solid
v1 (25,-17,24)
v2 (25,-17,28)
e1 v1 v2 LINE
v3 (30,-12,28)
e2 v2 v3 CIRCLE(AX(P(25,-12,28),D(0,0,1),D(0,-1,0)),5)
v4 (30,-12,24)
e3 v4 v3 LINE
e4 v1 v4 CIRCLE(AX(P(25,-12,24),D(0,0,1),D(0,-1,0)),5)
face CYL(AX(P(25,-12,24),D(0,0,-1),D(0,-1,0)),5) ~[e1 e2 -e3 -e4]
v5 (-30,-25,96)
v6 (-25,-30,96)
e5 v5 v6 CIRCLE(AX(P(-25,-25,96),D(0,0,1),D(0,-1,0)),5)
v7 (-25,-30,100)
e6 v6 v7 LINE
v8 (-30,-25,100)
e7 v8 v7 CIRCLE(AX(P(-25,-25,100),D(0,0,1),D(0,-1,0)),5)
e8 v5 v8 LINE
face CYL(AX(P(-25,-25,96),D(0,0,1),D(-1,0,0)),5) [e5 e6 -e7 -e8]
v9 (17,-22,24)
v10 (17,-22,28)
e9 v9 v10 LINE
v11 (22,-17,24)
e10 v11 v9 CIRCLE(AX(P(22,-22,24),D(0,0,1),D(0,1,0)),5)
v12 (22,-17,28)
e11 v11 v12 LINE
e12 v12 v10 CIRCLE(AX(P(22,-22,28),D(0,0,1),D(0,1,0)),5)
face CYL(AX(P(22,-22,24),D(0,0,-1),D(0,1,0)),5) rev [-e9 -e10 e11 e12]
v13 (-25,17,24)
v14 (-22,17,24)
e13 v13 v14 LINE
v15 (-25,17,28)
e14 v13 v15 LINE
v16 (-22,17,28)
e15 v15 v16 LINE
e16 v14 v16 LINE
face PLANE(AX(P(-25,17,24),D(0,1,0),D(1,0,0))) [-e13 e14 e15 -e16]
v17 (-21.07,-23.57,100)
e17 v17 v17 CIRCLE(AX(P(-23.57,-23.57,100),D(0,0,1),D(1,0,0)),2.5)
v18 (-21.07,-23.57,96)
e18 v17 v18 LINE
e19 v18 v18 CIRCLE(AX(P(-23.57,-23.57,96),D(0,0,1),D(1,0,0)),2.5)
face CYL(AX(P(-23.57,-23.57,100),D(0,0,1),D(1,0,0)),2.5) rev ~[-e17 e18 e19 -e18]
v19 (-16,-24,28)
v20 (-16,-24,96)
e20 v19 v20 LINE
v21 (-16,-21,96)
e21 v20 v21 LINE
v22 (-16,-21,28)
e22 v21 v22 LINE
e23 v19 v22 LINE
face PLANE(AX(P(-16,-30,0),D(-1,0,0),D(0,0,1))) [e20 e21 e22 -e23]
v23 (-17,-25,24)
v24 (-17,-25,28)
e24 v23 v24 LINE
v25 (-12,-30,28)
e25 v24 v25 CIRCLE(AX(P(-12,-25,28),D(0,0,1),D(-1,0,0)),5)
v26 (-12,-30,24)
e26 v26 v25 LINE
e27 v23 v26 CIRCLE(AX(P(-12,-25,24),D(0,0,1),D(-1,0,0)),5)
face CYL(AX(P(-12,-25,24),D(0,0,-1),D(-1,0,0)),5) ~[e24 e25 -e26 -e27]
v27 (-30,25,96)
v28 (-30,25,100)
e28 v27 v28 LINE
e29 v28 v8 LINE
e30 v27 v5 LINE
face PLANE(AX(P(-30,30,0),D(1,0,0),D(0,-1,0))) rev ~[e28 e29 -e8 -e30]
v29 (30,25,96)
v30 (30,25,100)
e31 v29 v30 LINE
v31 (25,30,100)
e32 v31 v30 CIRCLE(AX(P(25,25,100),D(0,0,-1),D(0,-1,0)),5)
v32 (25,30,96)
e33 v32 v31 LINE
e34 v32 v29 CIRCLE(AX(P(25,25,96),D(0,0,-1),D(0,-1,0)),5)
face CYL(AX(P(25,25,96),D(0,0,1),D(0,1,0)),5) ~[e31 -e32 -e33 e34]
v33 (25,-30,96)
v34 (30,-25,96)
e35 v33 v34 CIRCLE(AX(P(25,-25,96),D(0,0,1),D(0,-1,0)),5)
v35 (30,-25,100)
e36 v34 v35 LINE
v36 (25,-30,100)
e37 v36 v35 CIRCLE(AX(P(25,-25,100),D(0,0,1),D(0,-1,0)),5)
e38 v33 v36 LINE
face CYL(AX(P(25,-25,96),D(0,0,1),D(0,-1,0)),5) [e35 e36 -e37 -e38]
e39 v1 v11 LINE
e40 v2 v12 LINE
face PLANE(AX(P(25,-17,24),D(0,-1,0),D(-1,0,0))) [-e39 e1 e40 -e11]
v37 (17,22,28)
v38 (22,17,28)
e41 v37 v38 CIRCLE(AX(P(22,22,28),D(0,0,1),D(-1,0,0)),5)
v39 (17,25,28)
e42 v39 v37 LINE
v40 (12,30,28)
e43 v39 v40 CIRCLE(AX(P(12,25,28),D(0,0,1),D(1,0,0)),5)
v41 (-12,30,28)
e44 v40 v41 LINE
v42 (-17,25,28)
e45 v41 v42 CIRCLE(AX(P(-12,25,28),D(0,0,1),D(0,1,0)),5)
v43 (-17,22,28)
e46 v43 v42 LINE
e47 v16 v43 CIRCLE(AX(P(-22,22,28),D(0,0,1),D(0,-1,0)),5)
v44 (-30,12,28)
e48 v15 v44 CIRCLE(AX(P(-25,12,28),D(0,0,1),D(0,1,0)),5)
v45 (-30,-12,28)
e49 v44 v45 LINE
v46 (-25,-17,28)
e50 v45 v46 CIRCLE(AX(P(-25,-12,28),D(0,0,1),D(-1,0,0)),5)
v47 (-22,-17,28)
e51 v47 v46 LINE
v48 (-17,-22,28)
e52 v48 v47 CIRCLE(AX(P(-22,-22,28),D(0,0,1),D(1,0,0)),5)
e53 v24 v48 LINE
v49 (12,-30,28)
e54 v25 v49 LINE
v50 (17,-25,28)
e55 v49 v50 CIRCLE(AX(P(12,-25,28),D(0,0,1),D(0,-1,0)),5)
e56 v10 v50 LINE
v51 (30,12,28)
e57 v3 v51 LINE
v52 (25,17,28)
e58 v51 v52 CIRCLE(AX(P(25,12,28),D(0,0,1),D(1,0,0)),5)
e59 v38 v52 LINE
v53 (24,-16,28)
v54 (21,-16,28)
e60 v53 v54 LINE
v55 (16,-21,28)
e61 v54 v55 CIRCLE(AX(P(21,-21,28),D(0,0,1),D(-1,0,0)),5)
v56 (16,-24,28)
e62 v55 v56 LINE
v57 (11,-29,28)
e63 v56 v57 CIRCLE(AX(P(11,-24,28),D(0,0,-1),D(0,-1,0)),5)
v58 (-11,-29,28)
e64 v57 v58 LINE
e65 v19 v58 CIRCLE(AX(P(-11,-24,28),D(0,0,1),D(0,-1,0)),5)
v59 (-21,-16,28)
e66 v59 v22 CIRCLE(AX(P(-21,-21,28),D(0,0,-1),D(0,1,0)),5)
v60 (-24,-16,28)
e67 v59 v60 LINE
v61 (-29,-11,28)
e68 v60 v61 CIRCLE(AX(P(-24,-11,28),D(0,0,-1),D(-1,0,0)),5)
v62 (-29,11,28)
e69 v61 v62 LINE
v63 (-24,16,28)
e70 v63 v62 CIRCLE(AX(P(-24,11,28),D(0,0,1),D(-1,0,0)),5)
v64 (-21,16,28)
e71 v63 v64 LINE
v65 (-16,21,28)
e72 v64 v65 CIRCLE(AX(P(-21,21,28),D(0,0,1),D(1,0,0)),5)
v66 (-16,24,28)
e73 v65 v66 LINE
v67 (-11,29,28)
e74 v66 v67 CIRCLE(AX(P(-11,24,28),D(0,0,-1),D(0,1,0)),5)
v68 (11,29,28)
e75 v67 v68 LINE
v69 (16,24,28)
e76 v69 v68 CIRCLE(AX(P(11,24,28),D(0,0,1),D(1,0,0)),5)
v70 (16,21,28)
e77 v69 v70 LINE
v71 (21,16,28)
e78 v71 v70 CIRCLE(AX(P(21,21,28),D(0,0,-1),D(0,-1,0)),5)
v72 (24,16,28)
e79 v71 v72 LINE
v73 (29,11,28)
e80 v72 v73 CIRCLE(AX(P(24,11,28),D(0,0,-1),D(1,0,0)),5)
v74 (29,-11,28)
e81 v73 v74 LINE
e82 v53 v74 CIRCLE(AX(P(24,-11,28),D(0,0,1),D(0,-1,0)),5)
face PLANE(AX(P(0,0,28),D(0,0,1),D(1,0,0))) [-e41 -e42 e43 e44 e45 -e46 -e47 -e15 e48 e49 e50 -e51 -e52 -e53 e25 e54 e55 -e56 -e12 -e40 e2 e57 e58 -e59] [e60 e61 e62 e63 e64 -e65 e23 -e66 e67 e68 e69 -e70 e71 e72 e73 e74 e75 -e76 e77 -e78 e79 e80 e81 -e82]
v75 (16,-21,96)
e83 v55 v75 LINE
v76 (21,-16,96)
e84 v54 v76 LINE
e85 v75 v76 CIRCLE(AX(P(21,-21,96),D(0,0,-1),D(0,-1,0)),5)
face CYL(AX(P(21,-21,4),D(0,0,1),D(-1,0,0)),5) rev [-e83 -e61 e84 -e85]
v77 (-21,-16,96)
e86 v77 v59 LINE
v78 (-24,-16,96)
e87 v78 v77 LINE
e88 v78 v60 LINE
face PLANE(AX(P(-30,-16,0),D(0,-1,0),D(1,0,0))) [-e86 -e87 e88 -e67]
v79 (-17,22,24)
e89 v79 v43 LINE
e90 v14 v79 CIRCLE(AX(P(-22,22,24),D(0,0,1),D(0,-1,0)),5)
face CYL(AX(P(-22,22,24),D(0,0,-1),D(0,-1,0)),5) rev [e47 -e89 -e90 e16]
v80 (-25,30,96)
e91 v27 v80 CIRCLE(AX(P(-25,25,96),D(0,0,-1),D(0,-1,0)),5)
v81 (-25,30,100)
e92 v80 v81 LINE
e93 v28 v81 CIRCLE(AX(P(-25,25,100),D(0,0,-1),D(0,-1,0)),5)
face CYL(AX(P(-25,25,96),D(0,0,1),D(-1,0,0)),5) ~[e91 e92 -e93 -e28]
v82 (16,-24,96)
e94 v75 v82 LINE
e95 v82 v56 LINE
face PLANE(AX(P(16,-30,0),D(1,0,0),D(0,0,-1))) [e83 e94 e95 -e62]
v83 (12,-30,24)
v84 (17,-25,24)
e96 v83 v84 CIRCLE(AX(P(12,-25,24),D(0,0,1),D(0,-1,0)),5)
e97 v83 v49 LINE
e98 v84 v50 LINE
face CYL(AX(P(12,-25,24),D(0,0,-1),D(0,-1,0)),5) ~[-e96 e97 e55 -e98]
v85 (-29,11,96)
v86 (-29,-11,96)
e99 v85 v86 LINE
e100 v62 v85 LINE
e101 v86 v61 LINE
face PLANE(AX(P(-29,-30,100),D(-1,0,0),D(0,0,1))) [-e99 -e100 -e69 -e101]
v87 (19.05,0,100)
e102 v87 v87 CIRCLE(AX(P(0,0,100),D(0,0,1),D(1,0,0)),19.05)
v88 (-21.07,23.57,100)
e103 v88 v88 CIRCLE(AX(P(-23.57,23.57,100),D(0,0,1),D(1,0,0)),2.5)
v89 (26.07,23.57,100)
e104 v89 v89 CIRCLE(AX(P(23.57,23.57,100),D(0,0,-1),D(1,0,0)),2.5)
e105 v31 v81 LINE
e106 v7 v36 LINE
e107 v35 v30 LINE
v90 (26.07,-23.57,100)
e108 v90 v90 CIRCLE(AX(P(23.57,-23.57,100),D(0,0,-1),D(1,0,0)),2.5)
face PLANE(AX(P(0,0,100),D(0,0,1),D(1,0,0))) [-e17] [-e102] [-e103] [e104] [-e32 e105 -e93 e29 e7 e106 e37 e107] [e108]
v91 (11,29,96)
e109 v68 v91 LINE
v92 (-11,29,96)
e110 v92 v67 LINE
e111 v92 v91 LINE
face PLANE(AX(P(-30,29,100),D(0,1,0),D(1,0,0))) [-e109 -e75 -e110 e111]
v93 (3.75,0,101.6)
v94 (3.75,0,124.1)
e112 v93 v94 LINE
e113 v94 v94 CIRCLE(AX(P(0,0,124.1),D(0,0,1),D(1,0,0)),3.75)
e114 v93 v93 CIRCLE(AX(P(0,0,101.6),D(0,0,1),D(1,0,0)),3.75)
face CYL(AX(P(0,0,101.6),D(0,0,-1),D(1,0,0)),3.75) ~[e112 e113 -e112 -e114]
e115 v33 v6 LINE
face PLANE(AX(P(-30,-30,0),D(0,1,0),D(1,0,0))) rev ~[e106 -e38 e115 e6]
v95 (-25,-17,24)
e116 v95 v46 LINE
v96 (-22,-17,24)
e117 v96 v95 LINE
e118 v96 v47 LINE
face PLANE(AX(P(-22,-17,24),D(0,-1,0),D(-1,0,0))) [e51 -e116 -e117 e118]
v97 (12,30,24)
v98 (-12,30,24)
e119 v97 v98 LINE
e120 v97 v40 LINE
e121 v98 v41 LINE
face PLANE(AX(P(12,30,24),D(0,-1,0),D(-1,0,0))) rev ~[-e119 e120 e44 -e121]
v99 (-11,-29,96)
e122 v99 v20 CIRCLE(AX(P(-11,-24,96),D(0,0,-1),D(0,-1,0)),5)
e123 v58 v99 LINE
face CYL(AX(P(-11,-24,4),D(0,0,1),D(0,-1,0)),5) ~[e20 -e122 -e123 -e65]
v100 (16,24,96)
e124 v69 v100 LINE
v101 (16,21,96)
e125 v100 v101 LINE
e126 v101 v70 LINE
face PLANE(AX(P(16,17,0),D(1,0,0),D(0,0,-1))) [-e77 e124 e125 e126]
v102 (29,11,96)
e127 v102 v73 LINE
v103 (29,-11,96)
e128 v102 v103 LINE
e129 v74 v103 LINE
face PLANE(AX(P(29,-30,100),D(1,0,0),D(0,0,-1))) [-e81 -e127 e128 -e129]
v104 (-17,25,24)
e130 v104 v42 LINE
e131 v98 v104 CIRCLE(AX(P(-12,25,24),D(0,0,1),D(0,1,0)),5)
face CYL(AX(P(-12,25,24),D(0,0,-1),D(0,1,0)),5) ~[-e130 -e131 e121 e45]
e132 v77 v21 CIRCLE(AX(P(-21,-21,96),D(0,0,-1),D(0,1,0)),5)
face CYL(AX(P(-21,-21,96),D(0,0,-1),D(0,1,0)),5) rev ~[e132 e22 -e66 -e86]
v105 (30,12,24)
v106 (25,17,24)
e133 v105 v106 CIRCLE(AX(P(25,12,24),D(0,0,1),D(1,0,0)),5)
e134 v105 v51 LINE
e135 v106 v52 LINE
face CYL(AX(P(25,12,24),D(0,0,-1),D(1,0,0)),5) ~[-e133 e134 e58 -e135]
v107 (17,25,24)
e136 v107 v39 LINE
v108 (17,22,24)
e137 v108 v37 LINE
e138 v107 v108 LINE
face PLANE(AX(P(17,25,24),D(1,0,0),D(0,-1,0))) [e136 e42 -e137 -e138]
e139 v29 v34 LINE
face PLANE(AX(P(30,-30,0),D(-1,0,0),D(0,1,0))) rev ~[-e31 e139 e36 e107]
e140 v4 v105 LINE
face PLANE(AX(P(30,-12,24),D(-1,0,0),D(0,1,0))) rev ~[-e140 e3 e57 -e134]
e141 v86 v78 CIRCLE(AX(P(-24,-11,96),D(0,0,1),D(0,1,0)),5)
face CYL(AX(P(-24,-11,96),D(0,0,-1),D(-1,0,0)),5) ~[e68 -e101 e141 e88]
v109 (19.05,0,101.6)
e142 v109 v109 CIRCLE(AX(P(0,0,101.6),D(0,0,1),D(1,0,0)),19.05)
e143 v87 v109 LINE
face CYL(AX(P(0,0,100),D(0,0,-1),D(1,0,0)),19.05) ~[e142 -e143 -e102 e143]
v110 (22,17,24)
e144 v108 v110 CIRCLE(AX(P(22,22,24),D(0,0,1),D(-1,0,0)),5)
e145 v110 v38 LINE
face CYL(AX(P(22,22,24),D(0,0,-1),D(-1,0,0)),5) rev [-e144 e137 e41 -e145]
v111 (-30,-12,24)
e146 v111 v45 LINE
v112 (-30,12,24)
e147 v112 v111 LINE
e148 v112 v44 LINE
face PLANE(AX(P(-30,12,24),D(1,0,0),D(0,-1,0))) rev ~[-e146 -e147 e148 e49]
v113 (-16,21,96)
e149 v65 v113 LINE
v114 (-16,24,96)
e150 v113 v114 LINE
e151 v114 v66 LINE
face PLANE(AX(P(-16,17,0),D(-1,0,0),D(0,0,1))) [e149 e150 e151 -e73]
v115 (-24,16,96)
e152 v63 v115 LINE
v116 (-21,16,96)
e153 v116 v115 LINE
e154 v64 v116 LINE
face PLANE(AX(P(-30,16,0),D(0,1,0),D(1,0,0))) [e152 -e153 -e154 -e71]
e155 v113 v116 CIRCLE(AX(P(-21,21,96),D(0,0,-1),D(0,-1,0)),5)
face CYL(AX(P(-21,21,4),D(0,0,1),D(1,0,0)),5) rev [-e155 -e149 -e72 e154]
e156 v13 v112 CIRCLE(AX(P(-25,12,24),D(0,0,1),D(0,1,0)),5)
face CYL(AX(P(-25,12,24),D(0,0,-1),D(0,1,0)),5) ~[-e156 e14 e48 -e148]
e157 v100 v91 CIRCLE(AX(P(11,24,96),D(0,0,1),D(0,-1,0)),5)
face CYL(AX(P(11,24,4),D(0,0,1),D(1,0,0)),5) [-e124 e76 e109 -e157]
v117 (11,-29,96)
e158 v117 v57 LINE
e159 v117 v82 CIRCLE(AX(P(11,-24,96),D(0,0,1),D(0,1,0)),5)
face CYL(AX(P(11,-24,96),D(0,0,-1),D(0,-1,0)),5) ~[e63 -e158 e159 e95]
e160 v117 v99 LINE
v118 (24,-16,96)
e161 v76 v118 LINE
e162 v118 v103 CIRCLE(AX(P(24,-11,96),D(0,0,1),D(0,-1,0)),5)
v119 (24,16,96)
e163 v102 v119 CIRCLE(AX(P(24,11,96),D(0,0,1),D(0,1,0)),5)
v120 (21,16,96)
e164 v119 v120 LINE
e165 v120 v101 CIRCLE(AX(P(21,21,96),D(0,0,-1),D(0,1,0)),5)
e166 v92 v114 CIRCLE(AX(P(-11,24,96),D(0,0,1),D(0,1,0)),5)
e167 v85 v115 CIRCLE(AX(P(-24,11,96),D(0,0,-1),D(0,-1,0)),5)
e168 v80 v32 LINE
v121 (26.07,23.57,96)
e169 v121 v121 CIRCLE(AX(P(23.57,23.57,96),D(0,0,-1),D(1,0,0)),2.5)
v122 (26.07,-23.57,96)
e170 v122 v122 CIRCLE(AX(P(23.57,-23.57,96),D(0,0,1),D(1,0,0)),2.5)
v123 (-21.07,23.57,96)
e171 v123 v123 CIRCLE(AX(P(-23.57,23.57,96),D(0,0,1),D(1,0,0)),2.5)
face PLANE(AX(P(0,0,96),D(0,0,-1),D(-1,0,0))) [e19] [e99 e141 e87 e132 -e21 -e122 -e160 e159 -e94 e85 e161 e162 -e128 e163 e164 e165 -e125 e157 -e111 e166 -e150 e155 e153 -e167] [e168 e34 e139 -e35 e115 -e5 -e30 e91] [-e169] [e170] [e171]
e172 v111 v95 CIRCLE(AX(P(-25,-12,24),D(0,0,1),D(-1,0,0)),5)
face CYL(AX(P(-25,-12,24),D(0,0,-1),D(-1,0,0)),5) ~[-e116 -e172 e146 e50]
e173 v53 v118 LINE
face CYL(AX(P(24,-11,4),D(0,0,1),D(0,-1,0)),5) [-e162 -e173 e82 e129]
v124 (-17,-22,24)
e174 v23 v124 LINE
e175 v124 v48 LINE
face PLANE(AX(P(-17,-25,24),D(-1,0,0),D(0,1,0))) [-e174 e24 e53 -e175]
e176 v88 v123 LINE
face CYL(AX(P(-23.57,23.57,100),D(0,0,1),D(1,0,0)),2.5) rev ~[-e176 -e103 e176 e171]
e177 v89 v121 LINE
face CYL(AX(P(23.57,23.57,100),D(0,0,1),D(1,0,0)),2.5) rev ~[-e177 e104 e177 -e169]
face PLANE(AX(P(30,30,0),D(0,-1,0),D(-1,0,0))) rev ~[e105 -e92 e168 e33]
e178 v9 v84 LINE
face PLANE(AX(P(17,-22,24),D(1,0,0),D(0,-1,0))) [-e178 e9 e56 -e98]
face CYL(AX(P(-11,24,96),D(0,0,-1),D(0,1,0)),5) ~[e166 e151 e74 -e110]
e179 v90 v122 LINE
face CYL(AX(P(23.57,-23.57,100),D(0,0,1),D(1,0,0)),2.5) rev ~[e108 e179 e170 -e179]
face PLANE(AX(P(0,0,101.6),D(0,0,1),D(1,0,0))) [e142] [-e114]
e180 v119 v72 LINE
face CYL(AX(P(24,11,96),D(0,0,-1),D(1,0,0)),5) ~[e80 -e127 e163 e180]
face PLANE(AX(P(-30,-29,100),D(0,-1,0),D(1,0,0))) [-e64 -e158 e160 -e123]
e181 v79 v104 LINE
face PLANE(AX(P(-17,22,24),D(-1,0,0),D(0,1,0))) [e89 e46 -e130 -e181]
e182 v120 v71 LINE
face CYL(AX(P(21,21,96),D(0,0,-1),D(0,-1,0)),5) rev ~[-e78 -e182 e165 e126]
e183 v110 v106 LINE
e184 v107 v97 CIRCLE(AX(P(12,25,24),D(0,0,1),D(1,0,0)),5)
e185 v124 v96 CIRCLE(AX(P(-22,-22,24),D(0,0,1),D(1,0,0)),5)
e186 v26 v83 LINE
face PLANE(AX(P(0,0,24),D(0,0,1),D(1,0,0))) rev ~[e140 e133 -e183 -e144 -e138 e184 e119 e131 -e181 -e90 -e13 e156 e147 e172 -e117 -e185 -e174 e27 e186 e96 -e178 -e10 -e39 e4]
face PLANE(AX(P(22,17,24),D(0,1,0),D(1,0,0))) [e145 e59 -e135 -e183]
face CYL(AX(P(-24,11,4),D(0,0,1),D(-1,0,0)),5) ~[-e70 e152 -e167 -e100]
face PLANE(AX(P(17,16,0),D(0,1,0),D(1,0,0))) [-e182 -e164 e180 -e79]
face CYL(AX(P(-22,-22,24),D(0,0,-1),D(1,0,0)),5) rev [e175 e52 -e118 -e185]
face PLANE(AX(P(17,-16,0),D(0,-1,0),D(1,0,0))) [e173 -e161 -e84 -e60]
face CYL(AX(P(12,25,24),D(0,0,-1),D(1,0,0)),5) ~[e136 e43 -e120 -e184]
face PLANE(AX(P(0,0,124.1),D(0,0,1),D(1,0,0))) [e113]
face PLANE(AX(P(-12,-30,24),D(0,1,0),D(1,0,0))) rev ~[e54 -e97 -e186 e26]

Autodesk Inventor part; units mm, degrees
ref_plane "YZ Plane" through (0, 0, 0) normal (1, 0, 0) x (0, 1, 0)
ref_plane "XZ Plane" through (0, 0, 0) normal (0, 1, 0) x (-1, 0, 0)
sketch "Szkic1" plane through (0, 0, 0) normal (0, 0, 1) x (1, 0, 0)
  line L0 (-30, -30) -> (30, -30)
  line L1 (30, -30) -> (30, 30)
  line L2 (30, 30) -> (-30, 30)
  line L3 (-30, 30) -> (-30, -30)
  line L4 (-30, -30) -> (30, 30) construction
  line L5 (30, -30) -> (-30, 30) construction
  point P0 (0, 0)
  dimension "d0" = 60
  dimension "d1" = 60
extrude "Wyciągnięcie proste1" add sketch "Szkic1" along normal blind 100
sketch "Szkic2" plane through (0, 0, 100) normal (0, 0, 1) x (1, 0, 0)
  circle A0 centre (0, 0) radius 19.05
  dimension "d4" = 38.1
extrude "Wyciągnięcie proste2" add sketch "Szkic2" along normal blind 1.6
sketch "Szkic3" plane through (0, 0, 100) normal (0, 0, 1) x (1, 0, 0)
  line L0 (0, 0) -> (0, 23.57)
  line L1 (30, -30) -> (30, 30) projected
  line L2 (-30, 30) -> (-30, -30) projected
  line L3 (0, 0) -> (0, -23.57)
  line L4 (0, -23.57) -> (23.57, -23.57)
  line L5 (0, -23.57) -> (-23.57, -23.57)
  line L6 (0, 23.57) -> (-23.57, 23.57)
  line L7 (0, 23.57) -> (23.57, 23.57)
  circle A0 centre (23.57, 23.57) radius 2.5
  circle A1 centre (-23.57, 23.57) radius 2.5
  circle A2 centre (-23.57, -23.57) radius 2.5
  circle A3 centre (23.57, -23.57) radius 2.5
  dimension "d13" = 47.14
  dimension "d14" = 47.14
  dimension "d15" = 47.14
  dimension "d16" = 5
  dimension "d17" = 5
  dimension "d18" = 5
  dimension "d19" = 5
extrude "Wyciągnięcie proste3" cut sketch "Szkic3" against normal up to next
sketch "Szkic4" plane through (0, 0, 0) normal (0, 0, -1) x (-1, 0, 0)
  circle A0 centre (23.57, -23.57) radius 2.5 projected
  circle A1 centre (-23.57, 23.57) radius 2.5 projected
  circle A2 centre (23.57, 23.57) radius 2.5 projected
  circle A3 centre (-23.57, -23.57) radius 2.5 projected
  line L0 (30, -30) -> (-30, -30) projected
  line L1 (30, 30) -> (30, -30) projected
  line L2 (-30, 30) -> (30, 30) projected
  line L3 (-30, -30) -> (-30, 30) projected
  line L4 (-30, -30) -> (-30, 30) projected
  line L5 (-17, -17) -> (-17, -30)
  line L6 (17, -17) -> (17, -30)
  line L7 (30, 30) -> (30, -30) projected
  line L8 (-17, -17) -> (-30, -17)
  line L9 (17, 17) -> (30, 17)
  line L10 (-17, 17) -> (-17, 30)
  line L11 (-17, 17) -> (-30, 17)
  line L12 (17, 17) -> (17, 30)
  line L13 (17, -17) -> (30, -17)
  point P0 (0, 0)
extrude "Wyciągnięcie proste4" cut sketch "Szkic4" against normal blind 96 contours L0 L6 L13 L1 | L0 L3 L8 L5 | L9 L12 L2 L1 | L3 L2 L10 L11
sketch "Szkic5" plane through (0, 0, 101.6) normal (0, 0, 1) x (1, 0, 0)
  circle A0 centre (0, 0) radius 3.75
  dimension "d25" = 7.5
extrude "Wyciągnięcie proste5" add sketch "Szkic5" along normal blind 22.5
sketch "Szkic6" plane through (-30, 30, 100) normal (0, 1, 0) x (1, 0, 0)
  line L0 (13, 100) -> (13, 4) projected
  line L1 (13, 4) -> (0, 4) projected
  line L2 (0, 4) -> (0, 0) projected
  line L3 (60, 0) -> (0, 0) projected
  line L4 (60, 4) -> (60, 0) projected
  line L5 (60, 4) -> (47, 4) projected
  line L6 (47, 4) -> (47, 100) projected
  line L7 (47, 100) -> (13, 100) projected
  line L8 (13, 4) -> (47, 4)
  line L9 (13, 100) -> (13, 4) projected
  line L10 (13, 100) -> (13, 96)
  line L11 (13, 96) -> (47, 96)
  point P0 (30, 100)
  dimension "d28" = 4
extrude "Wyciągnięcie proste6" cut sketch "Szkic6" against normal blind 1 contours L11 L6 L8 L0
sketch "Szkic7" plane through (-30, -30, 100) normal (-1, 0, 0) x (0, 0, 1)
  line L0 (-4, 47) -> (-100, 47) projected
  line L1 (-100, 47) -> (-100, 13) projected
  line L2 (-100, 13) -> (-4, 13) projected
  line L3 (-4, 13) -> (-4, 0) projected
  line L4 (-4, 0) -> (0, 0) projected
  line L5 (0, 60) -> (0, 0) projected
  line L6 (-4, 60) -> (0, 60) projected
  line L7 (-4, 60) -> (-4, 47) projected
  line L8 (-100, 47) -> (-4, 47) projected
  line L9 (-100, 13) -> (-4, 13) projected
  line L10 (-4, 47) -> (-4, 13)
  line L11 (-100, 47) -> (-100, 13) projected
  line L12 (-96, 13) -> (-96, 47)
  point P0 (-100, 30)
sketch "Szkic8" plane through (-30, -30, 100) normal (0, -1, 0) x (1, 0, 0)
  line L0 (13, -4) -> (13, -100) projected
  line L1 (13, -100) -> (47, -100) projected
  line L2 (47, -100) -> (47, -4) projected
  line L3 (47, -4) -> (60, -4) projected
  line L4 (60, -4) -> (60, 0) projected
  line L5 (0, 0) -> (60, 0) projected
  line L6 (0, -4) -> (0, 0) projected
  line L7 (0, -4) -> (13, -4) projected
  line L8 (47, -4) -> (13, -4) projected
  line L9 (13, -4) -> (47, -4)
  line L10 (47, -100) -> (47, -96)
  line L11 (47, -100) -> (47, -4) projected
  line L12 (47, -96) -> (13, -96)
  point P0 (30, -100)
  dimension "d34" = 4
sketch "Szkic9" plane through (30, -30, 100) normal (1, 0, 0) x (0, 0, -1)
  line L0 (4, 13) -> (100, 13) projected
  line L1 (100, 13) -> (100, 47) projected
  line L2 (100, 47) -> (4, 47) projected
  line L3 (4, 47) -> (4, 60) projected
  line L4 (4, 60) -> (0, 60) projected
  line L5 (0, 0) -> (0, 60) projected
  line L6 (4, 0) -> (0, 0) projected
  line L7 (4, 0) -> (4, 13) projected
  line L8 (4, 47) -> (4, 13) projected
  line L9 (4, 13) -> (4, 47)
  line L10 (100, 47) -> (100, 60) projected
  line L11 (100, 47) -> (96, 47)
  line L12 (100, 47) -> (4, 47) projected
  line L13 (96, 47) -> (96, 13)
  line L14 (100, 13) -> (4, 13) projected
  point P0 (100, 30)
  dimension "d37" = 4
extrude "Wyciągnięcie proste10" cut sketch "Szkic8" against normal blind 1 contours L8 L2 L12 L0
extrude "Wyciągnięcie proste11" cut sketch "Szkic7" against normal blind 1 contours L10 L2 L12 L0
extrude "Wyciągnięcie proste12" cut sketch "Szkic9" against normal blind 1 contours L8 L2 L13 L0
sketch "Szkic10" plane through (-30, 17, 0) normal (0, 1, 0) x (1, 0, 0)
  line L0 (1, -4) -> (1, -96)
  line L1 (1, -96) -> (13, -96)
  line L2 (13, -4) -> (13, -96)
  line L3 (1, -4) -> (1, -96)
  line L4 (1, -4) -> (13, -4)
  point P0 (30, 0)
extrude "Wyciągnięcie proste13" cut sketch "Szkic10" against normal blind 1
sketch "Szkic11" plane through (-17, 17, 0) normal (-1, 0, 0) x (0, 0, 1)
  line L0 (4, 0) -> (4, -1)
  line L1 (4, -1) -> (96, -1)
  line L2 (96, -1) -> (96, 12)
  line L3 (96, 12) -> (4, 12)
  line L4 (96, 12) -> (4, 12)
  line L5 (4, 12) -> (4, 0)
  point P0 (0, -17)
extrude "Wyciągnięcie proste14" cut sketch "Szkic11" against normal blind 1
sketch "Szkic12" plane through (17, 17, 0) normal (0, 1, 0) x (1, 0, 0)
  line L0 (12, -96) -> (12, -4)
  line L1 (0, -4) -> (0, -96)
  line L2 (0, -96) -> (12, -96)
  line L3 (12, -4) -> (0, -4)
  point P0 (-17, 0)
extrude "Wyciągnięcie proste15" cut sketch "Szkic12" against normal blind 1
sketch "Szkic13" plane through (17, 17, 0) normal (1, 0, 0) x (0, 0, -1)
  line L0 (-4, 12) -> (-96, 12)
  line L1 (-96, 12) -> (-96, -1)
  line L2 (-96, -1) -> (-4, -1)
  line L3 (-4, 0) -> (-4, -1)
  line L4 (-4, -1) -> (-4, 12)
  line L5 (-4, 0) -> (-4, 12)
  point P0 (0, -17)
extrude "Wyciągnięcie proste16" cut sketch "Szkic13" against normal blind 1
sketch "Szkic14" plane through (17, -17, 0) normal (0, -1, 0) x (1, 0, 0)
  line L0 (12, 4) -> (12, 96)
  line L1 (12, 96) -> (0, 96)
  line L2 (0, 4) -> (0, 96)
  line L3 (0, 4) -> (12, 4)
  line L4 (-1, 4) -> (-1, 96)
  point P0 (-17, 0)
extrude "Wyciągnięcie proste17" cut sketch "Szkic14" against normal blind 1
sketch "Szkic15" plane through (17, -30, 0) normal (1, 0, 0) x (0, 0, -1)
  line L0 (-96, 1) -> (-4, 1)
  line L1 (-4, 13) -> (-4, 14)
  line L2 (-4, 14) -> (-96, 14)
  line L3 (-96, 14) -> (-96, 1)
  line L4 (-4, 1) -> (-96, 1)
  line L5 (-4, 1) -> (-4, 13)
  point P0 (0, 30)
extrude "Wyciągnięcie proste18" cut sketch "Szkic15" against normal blind 1
sketch "Szkic16" plane through (-30, -17, 0) normal (0, -1, 0) x (1, 0, 0)
  line L0 (1, 96) -> (1, 4)
  line L1 (13, 4) -> (13, 96)
  line L2 (13, 96) -> (1, 96)
  line L3 (1, 4) -> (14, 4)
  line L4 (13, 4) -> (1, 4)
  point P0 (30, 0)
extrude "Wyciągnięcie proste19" cut sketch "Szkic16" against normal blind 1
sketch "Szkic17" plane through (-17, -30, 0) normal (-1, 0, 0) x (0, 0, 1)
  line L0 (4, 1) -> (96, 1)
  line L1 (96, 1) -> (96, 14)
  line L2 (96, 14) -> (4, 14)
  line L3 (4, 13) -> (4, 14)
  line L4 (4, 14) -> (4, 1)
  line L5 (4, 13) -> (4, 1)
  point P0 (0, 30)
extrude "Wyciągnięcie proste20" cut sketch "Szkic17" against normal blind 1
fillet "Zaokrąglenie1" radius 5 28 edges at (-30, 30, 98) (30, 30, 98) (30, -30, 98) (-30, -30, 98) (-16, -16, 50) (-29, -16, 50) (-16, -29, 50) (16, -29, 50) (16, -16, 50) (29, -16, 50) (29, 16, 50) (16, 16, 50) (16, 29, 50) (-16, 29, 50) (-16, 16, 50) (-29, 16, 50) (-30, 17, 2) (-17, 17, 2) (-17, 30, 2) (17, 30, 2) (17, 17, 2) (30, 17, 2) (30, -17, 2) (17, -17, 2) (17, -30, 2) (-17, -30, 2) (-17, -17, 2) (-30, -17, 2)
ref_plane "Płaszczyzna konstrukcyjna1" through (0, 0, 24) normal (0, 0, 1) x (1, 0, 0)
sketch "Szkic19" plane through (0, 0, 24) normal (0, 0, 1) x (1, 0, 0)
  arc A0 (-30, -12) -> (-25, -17) centre (-25, -12) ccw projected
  line L0 (-30, 12) -> (-30, -12) projected
  arc A1 (-25, 17) -> (-30, 12) centre (-25, 12) ccw projected
  line L1 (-25, 17) -> (-22, 17) projected
  arc A2 (-22, 17) -> (-17, 22) centre (-22, 22) ccw projected
  line L2 (-17, 22) -> (-17, 25) projected
  arc A3 (-12, 30) -> (-17, 25) centre (-12, 25) ccw projected
  line L3 (12, 30) -> (-12, 30) projected
  arc A4 (17, 25) -> (12, 30) centre (12, 25) ccw projected
  line L4 (17, 25) -> (17, 22) projected
  arc A5 (17, 22) -> (22, 17) centre (22, 22) ccw projected
  line L5 (22, 17) -> (25, 17) projected
  arc A6 (30, 12) -> (25, 17) centre (25, 12) ccw projected
  line L6 (30, -12) -> (30, 12) projected
  arc A7 (25, -17) -> (30, -12) centre (25, -12) ccw projected
  line L7 (25, -17) -> (22, -17) projected
  arc A8 (22, -17) -> (17, -22) centre (22, -22) ccw projected
  line L8 (17, -22) -> (17, -25) projected
  arc A9 (12, -30) -> (17, -25) centre (12, -25) ccw projected
  line L9 (-12, -30) -> (12, -30) projected
  arc A10 (-17, -25) -> (-12, -30) centre (-12, -25) ccw projected
  line L10 (-17, -25) -> (-17, -22) projected
  arc A11 (-17, -22) -> (-22, -17) centre (-22, -22) ccw projected
  line L11 (-22, -17) -> (-25, -17) projected
  point P0 (0, 0)
extrude "Wyciągnięcie proste21" add sketch "Szkic19" along normal blind 4
split "Podział1" plane through (0, 0, 24) removes the side toward (0, 0, -1)
properties part number "Silnik krokowy SM 60 100-4004AF - 4Nm"
